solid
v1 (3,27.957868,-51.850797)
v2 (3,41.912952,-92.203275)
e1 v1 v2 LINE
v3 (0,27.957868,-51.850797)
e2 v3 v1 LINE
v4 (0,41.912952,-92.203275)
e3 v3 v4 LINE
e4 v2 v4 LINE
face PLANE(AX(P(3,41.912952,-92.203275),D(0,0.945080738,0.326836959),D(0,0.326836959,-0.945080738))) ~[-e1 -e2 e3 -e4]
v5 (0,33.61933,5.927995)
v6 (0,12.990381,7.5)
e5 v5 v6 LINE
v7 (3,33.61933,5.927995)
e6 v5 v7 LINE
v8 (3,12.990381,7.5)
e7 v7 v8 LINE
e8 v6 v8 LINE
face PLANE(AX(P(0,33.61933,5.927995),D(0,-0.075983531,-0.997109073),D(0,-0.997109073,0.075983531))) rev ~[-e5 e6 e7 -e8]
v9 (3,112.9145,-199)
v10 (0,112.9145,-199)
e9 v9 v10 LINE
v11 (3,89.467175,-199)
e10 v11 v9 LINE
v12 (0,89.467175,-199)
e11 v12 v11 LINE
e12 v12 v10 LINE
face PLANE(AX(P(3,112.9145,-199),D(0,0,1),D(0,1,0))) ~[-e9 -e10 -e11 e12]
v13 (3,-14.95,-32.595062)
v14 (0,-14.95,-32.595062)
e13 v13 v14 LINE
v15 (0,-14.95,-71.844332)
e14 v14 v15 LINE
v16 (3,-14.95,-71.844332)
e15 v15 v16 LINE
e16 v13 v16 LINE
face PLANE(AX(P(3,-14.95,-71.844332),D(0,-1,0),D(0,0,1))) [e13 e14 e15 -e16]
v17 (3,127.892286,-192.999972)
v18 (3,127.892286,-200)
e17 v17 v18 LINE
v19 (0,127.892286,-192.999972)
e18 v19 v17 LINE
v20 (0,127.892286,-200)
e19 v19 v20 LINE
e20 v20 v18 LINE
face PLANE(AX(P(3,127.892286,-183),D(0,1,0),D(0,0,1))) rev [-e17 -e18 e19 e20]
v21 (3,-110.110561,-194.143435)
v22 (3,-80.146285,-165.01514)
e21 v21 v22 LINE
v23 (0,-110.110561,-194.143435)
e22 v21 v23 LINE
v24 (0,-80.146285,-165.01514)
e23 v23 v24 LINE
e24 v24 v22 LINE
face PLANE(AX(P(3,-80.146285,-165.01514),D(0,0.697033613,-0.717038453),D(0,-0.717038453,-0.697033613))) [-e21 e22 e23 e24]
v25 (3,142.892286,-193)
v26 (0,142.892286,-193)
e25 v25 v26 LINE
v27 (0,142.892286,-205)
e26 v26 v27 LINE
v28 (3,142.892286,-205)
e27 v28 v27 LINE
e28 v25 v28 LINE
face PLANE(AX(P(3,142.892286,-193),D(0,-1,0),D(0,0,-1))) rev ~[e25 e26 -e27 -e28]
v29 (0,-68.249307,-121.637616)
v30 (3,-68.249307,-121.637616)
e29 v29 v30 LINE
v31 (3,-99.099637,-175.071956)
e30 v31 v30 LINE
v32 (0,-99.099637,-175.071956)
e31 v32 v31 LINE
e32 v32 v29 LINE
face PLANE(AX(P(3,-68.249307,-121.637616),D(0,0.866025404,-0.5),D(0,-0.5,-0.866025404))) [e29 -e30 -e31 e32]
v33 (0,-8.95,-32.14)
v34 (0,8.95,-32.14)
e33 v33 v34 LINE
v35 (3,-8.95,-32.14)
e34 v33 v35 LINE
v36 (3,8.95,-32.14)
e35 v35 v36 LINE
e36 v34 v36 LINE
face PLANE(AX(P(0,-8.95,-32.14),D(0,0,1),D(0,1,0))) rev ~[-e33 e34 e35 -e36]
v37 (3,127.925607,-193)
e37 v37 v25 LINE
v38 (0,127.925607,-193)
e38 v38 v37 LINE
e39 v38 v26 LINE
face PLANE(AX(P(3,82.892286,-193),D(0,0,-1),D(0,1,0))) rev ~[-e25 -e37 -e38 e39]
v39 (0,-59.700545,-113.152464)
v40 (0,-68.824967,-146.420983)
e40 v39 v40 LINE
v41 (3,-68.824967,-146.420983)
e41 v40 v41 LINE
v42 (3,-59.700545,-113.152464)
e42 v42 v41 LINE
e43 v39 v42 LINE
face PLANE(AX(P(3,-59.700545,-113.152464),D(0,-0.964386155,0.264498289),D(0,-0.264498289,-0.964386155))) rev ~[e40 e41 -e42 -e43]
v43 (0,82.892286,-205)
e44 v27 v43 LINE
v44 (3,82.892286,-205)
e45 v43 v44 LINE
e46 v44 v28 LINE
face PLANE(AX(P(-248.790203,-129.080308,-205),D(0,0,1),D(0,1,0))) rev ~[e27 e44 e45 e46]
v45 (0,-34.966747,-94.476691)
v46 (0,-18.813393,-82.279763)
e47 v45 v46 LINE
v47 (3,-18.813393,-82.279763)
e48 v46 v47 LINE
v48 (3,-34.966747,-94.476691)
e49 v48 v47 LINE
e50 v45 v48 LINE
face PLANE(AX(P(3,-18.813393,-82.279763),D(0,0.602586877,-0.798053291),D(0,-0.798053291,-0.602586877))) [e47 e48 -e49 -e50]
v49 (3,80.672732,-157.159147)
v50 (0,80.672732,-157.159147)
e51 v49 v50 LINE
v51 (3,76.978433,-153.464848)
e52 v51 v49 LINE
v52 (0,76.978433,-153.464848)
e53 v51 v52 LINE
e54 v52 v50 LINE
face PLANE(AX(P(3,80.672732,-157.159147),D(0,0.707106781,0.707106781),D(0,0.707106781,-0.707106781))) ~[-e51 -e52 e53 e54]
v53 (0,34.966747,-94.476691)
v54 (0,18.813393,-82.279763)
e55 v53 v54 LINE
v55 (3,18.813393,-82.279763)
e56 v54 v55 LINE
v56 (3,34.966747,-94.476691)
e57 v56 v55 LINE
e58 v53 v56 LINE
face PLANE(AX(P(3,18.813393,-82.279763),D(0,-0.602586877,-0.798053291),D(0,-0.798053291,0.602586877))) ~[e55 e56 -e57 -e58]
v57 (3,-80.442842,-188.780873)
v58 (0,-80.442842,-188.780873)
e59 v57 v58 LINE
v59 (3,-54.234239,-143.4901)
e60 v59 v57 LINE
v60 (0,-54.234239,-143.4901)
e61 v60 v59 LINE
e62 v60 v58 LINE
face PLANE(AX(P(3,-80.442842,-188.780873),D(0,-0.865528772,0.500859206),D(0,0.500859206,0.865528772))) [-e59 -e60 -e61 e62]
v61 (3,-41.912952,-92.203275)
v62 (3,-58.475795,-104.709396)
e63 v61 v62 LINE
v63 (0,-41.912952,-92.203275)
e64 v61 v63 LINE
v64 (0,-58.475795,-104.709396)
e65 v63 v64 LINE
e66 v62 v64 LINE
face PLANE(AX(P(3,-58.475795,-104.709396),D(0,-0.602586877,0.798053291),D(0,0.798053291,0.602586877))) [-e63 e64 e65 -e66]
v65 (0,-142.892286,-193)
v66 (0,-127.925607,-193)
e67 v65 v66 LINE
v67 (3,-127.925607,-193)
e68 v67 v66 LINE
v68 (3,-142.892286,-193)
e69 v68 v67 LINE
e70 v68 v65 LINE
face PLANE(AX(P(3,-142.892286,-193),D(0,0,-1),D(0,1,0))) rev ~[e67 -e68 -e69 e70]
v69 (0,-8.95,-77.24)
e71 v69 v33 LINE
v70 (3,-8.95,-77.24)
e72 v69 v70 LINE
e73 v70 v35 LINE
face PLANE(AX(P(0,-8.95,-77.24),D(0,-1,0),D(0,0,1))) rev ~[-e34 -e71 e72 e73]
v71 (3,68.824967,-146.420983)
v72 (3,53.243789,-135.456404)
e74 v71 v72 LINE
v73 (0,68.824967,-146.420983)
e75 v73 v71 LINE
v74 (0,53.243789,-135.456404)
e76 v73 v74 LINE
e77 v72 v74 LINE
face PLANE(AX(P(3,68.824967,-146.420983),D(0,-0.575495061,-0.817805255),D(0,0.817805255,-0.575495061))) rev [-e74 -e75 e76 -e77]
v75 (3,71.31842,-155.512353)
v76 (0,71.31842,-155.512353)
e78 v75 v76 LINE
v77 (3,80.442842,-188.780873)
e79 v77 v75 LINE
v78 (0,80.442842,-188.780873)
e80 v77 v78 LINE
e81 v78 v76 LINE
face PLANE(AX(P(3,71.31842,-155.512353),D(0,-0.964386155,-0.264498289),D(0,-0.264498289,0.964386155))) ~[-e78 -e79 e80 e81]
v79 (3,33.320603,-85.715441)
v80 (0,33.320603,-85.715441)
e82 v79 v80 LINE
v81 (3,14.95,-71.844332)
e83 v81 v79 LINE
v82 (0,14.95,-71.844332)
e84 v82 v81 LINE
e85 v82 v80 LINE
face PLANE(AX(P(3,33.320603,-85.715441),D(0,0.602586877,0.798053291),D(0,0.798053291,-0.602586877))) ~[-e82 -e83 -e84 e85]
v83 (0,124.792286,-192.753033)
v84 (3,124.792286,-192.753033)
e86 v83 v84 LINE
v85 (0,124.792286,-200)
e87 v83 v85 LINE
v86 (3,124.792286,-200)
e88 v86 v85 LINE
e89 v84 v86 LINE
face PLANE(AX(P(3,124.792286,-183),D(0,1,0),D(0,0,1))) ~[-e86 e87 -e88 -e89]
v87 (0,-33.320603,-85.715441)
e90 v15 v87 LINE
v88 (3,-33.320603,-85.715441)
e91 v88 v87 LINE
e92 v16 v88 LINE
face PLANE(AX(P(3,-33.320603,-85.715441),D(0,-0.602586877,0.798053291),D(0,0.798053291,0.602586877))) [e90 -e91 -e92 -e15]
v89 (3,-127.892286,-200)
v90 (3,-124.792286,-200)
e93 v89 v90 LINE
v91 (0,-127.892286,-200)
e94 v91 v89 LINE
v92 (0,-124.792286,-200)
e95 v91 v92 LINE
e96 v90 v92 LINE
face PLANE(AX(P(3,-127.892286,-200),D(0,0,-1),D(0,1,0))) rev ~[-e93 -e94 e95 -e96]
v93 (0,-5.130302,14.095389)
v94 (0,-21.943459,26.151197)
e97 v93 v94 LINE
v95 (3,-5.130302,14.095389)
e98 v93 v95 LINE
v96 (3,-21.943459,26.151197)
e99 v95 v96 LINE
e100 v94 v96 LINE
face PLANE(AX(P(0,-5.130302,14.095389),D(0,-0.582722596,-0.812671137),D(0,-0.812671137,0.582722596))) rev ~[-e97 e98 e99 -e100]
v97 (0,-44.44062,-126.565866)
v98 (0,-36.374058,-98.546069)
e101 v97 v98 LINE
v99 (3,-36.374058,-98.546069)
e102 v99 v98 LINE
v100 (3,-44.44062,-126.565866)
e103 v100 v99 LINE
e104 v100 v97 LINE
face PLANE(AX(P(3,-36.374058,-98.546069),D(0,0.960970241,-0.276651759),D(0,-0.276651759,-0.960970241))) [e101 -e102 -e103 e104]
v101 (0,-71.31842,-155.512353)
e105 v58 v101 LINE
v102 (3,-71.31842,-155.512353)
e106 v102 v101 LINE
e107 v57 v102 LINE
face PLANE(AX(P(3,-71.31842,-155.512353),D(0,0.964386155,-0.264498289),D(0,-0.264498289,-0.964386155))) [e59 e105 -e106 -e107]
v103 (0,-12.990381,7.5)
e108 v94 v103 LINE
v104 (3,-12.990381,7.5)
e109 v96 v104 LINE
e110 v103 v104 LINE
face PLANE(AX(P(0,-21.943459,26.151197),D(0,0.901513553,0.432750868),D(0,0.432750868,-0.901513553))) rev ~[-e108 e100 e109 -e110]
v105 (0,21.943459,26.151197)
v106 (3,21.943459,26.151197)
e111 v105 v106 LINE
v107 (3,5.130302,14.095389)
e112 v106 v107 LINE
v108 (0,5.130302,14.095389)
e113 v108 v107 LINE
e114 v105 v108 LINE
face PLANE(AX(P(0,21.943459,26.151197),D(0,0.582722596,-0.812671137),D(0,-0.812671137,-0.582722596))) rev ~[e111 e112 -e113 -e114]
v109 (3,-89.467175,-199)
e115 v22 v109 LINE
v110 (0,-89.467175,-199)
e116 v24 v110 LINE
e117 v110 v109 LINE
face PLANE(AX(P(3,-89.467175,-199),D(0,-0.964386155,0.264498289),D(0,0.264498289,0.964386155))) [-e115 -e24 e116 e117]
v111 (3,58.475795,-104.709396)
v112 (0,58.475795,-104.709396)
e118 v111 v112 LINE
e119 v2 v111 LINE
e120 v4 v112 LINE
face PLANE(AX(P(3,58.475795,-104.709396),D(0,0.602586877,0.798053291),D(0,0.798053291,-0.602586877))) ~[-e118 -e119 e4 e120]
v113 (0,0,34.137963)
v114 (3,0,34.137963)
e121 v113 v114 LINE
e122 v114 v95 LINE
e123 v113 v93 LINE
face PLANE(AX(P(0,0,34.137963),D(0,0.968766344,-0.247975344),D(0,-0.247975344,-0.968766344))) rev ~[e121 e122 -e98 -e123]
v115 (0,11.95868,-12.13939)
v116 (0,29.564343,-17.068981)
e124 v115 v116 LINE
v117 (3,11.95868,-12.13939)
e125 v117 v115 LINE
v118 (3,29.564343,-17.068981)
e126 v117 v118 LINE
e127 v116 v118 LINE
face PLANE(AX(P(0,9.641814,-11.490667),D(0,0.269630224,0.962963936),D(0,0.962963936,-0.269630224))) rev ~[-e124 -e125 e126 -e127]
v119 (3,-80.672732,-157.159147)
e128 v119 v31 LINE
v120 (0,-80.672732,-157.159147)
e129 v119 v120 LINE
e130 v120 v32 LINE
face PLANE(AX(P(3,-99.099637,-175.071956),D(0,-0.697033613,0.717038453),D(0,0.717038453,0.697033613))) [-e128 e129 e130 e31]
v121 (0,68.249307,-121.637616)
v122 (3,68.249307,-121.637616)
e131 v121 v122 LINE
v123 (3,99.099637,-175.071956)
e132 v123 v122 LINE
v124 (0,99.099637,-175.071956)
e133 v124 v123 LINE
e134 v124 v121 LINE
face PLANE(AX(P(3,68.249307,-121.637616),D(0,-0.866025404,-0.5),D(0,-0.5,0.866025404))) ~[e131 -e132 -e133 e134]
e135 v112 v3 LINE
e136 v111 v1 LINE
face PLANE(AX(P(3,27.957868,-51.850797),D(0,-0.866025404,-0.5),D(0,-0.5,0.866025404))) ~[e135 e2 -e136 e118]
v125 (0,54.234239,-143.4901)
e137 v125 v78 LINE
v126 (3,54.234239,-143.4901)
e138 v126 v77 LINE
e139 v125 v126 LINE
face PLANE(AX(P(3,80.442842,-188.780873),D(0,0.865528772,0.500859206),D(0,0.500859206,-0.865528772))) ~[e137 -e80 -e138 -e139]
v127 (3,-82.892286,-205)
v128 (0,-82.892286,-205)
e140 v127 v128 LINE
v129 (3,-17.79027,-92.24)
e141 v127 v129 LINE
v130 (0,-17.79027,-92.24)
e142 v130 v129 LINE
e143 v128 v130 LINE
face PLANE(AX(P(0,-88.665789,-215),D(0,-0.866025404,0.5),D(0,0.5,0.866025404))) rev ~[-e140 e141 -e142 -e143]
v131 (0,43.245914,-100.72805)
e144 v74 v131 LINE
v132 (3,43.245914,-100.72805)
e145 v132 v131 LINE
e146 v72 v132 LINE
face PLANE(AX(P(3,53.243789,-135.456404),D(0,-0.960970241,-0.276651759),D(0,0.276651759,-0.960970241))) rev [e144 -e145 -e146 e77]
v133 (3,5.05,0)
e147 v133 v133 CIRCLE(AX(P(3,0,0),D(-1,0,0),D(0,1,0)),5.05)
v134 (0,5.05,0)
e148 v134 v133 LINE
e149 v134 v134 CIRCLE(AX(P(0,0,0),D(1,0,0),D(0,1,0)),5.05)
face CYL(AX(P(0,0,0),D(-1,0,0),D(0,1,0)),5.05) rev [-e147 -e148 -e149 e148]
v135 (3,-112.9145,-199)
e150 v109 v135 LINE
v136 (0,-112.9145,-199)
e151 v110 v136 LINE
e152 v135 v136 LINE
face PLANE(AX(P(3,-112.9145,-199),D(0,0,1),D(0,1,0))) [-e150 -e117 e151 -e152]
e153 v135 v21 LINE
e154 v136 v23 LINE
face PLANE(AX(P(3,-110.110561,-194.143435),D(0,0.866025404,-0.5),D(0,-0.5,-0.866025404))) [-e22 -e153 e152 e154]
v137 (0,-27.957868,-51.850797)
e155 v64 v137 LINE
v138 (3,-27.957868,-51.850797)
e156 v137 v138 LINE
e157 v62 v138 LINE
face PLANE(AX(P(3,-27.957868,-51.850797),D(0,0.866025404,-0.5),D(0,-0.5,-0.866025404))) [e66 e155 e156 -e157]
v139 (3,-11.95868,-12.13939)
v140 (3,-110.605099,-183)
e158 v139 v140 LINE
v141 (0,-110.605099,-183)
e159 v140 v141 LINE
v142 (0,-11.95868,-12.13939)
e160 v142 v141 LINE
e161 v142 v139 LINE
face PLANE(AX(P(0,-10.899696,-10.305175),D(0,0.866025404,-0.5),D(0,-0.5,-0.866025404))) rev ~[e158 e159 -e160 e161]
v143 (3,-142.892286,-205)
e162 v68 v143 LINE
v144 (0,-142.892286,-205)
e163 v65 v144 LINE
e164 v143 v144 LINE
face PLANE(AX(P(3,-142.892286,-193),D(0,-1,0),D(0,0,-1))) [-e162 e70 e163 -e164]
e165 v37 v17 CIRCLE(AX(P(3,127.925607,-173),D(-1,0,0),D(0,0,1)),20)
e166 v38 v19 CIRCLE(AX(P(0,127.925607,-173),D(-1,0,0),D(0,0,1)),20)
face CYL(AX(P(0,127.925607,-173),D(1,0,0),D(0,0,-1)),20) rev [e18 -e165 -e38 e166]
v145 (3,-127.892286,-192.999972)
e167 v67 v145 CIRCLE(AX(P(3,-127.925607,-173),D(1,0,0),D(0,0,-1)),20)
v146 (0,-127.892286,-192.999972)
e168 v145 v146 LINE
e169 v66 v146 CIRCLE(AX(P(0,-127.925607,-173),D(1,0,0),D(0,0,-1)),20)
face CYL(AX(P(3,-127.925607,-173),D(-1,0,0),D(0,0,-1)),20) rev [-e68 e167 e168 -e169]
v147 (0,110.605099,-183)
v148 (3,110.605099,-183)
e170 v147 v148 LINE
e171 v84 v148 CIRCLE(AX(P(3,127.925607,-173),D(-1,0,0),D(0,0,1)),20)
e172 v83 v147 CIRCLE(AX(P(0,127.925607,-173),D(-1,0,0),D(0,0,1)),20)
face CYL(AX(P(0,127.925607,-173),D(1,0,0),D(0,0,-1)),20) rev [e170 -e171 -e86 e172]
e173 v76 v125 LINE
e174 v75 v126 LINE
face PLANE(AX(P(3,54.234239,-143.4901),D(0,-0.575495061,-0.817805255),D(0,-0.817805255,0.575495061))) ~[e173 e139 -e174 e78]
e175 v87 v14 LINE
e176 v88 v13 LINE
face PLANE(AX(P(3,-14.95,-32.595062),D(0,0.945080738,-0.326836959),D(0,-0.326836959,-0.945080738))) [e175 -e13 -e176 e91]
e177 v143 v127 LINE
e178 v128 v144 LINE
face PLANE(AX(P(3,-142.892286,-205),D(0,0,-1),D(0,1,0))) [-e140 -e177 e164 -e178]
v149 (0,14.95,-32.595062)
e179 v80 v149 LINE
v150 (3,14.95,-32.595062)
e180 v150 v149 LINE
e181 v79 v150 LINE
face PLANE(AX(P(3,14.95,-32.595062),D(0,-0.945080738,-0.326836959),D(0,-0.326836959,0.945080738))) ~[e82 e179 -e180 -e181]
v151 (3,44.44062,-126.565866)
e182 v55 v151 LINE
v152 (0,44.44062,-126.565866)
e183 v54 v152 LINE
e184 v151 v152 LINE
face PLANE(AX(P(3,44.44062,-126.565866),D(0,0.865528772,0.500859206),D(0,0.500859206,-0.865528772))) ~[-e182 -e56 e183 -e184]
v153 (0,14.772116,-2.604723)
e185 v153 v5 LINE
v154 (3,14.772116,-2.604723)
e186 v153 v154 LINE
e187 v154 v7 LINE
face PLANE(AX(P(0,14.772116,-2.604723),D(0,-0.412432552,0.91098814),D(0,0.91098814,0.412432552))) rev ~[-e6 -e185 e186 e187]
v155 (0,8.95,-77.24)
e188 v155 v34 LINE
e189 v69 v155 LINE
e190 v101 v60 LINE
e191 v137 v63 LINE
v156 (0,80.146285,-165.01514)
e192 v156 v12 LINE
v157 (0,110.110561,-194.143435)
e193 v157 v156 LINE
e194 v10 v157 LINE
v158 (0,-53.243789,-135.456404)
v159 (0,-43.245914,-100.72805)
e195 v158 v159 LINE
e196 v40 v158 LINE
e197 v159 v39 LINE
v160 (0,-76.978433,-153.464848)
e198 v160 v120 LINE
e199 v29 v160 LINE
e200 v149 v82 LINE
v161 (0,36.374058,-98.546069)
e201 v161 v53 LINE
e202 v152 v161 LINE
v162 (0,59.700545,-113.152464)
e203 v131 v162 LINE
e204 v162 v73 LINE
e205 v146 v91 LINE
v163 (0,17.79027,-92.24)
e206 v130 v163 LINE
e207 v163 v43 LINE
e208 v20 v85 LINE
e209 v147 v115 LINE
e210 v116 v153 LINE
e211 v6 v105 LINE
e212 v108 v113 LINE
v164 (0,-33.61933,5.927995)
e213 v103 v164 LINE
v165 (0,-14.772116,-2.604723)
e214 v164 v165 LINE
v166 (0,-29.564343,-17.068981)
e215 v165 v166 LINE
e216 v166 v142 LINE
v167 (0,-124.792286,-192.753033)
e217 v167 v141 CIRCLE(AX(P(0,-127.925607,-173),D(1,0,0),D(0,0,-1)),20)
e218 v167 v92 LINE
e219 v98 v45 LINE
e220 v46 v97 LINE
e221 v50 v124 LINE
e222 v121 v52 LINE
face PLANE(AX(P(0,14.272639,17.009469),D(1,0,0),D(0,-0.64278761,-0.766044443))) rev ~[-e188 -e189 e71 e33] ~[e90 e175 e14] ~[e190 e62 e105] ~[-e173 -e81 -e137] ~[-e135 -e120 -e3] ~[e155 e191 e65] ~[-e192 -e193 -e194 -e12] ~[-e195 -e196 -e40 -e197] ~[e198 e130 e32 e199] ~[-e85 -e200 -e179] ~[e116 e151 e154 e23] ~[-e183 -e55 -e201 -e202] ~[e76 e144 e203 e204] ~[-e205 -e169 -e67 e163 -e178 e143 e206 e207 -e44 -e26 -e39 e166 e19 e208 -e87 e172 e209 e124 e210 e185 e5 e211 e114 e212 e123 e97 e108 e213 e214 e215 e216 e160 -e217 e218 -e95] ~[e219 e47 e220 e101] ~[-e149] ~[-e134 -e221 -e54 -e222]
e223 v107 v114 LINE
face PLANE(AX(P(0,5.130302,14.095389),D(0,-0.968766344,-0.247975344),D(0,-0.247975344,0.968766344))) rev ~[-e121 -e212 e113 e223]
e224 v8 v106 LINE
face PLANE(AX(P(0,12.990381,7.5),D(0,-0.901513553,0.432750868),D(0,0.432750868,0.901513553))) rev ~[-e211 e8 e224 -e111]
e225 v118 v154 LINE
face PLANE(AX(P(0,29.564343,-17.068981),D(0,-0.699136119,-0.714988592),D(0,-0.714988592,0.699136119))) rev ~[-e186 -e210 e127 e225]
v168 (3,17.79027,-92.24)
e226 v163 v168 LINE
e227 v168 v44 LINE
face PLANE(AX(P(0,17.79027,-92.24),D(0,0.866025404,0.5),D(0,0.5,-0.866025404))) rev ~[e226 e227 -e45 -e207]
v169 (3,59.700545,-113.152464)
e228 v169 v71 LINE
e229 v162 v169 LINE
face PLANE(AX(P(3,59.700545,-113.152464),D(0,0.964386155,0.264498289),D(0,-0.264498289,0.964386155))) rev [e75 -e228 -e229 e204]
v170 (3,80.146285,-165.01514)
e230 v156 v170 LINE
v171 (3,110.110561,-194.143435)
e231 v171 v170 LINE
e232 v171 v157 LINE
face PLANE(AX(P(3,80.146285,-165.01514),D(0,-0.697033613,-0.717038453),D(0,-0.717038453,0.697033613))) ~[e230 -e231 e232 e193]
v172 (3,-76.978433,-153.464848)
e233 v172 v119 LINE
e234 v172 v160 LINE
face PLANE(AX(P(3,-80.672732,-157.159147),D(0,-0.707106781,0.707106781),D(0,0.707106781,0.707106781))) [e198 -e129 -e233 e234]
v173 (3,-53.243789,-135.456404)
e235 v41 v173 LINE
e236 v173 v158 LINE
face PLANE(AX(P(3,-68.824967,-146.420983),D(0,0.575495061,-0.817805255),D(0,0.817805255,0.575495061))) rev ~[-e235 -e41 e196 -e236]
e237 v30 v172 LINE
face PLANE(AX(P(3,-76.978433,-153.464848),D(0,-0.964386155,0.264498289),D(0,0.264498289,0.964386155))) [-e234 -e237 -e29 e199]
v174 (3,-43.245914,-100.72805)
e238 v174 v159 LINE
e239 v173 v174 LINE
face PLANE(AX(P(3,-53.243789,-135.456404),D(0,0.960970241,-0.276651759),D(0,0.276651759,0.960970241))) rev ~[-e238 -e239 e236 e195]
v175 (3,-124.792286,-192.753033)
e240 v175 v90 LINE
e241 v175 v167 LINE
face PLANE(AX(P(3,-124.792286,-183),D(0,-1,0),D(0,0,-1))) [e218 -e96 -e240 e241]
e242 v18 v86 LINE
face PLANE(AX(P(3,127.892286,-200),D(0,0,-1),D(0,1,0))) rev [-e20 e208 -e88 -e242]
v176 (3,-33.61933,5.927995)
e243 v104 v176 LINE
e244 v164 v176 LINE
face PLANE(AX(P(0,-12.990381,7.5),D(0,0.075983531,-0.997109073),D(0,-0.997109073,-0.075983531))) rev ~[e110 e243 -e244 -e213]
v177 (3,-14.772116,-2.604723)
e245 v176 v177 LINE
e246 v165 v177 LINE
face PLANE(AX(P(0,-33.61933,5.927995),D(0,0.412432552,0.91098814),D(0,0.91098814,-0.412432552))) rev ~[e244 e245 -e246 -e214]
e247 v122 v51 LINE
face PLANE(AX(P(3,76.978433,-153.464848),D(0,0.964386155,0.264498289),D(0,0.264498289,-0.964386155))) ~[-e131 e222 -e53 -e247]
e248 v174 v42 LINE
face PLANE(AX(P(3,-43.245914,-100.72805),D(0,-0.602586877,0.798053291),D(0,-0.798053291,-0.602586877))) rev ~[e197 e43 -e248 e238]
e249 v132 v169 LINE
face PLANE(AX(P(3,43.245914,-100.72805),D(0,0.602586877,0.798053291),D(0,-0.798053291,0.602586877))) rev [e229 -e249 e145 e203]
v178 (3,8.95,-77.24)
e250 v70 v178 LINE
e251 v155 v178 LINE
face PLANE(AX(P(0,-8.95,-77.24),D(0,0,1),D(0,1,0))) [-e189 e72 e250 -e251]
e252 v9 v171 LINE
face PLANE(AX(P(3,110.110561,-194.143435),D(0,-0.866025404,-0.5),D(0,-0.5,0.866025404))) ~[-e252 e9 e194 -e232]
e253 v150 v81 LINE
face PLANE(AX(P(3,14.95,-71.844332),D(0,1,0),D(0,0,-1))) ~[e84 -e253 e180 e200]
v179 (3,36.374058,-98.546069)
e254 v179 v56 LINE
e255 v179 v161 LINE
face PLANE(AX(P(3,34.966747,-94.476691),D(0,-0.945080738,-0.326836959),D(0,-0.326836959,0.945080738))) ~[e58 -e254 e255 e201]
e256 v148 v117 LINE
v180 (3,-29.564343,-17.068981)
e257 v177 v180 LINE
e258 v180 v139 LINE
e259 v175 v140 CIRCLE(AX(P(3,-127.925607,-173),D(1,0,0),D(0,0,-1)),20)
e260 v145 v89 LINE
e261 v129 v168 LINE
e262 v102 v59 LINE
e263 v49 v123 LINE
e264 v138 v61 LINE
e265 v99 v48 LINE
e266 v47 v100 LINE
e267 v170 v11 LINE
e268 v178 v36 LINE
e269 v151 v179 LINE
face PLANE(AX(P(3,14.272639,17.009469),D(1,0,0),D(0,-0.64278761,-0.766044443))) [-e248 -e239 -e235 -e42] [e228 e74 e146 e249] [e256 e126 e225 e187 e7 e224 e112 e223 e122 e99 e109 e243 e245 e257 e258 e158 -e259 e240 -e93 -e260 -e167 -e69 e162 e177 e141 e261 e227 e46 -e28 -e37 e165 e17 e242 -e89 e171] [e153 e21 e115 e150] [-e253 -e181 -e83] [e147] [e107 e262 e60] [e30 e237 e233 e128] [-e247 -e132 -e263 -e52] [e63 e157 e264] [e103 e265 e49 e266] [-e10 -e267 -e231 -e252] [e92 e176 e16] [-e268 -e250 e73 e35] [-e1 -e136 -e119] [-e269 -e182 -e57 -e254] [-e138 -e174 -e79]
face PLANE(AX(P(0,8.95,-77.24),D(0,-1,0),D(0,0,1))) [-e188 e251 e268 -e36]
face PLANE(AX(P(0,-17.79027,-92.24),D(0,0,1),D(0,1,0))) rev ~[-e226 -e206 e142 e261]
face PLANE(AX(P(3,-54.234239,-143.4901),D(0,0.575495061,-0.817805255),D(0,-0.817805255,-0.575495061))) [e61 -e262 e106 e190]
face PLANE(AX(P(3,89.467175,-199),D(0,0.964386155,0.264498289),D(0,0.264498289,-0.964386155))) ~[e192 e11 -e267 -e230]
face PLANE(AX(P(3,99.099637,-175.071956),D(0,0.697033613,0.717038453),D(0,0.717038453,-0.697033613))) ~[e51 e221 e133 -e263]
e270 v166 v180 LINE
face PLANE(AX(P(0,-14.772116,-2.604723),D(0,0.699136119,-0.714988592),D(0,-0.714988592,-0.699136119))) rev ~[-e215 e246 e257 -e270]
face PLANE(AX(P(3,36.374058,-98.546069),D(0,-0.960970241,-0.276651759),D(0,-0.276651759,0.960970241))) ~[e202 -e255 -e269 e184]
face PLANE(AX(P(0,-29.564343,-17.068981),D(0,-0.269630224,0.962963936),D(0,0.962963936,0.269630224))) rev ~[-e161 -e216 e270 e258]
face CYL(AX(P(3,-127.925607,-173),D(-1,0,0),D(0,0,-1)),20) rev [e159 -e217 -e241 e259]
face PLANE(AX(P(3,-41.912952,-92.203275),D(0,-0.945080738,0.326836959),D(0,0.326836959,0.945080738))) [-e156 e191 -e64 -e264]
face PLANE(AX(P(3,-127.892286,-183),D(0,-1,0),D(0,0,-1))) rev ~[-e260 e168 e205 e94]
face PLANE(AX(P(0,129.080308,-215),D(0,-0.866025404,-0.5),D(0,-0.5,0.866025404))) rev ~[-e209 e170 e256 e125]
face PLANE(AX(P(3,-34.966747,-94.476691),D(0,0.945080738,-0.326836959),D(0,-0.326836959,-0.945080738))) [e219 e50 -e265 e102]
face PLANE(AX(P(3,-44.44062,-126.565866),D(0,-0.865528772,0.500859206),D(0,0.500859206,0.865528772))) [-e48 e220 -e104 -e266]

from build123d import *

# Parameters (mm, degrees)
SKETCH1_R                      = 4.95
SKETCH1_W                      = 17.9
SKETCH1_H                      = 45.1
BOSS_EXTRUDE1_DEPTH            = 3
CUT_EXTRUDE1_DEPTH             = 251.790202921
CUT_EXTRUDE1_DEPTH_BACK        = 251.790202921
SKETCH2_W                      = 258.160615752
SKETCH2_H                      = 10
SKETCH3_W                      = 12
SKETCH3_H                      = 60
BOSS_EXTRUDE2_DEPTH            = 3
FILLET1_R                      = 20
BOSS_EXTRUDE3_START            = -3
BOSS_EXTRUDE3_DEPTH            = 3
CIRPATTERN1_COUNT              = 9
SKETCH5_W                      = 17
SKETCH5_H                      = 3.1
CUT_EXTRUDE2_DEPTH             = 250.90439271
CUT_EXTRUDE3_DEPTH             = 250.90439271
MAIN_SHAFT_CLEARANCE_PROFILE_R = 5.05
SHAFT_CLEARANCE_10P1_DEPTH     = 250.90439271


with BuildPart() as part:
    # Sketch1 → Boss-Extrude1 (new body)
    with BuildSketch(Plane.YZ):
        with BuildLine():
            Line((-10.899695646, -10.305175148), (-129.080307876, -215))
            Line((-129.080307876, -215), (-88.665789032, -215))
            Line((-88.665789032, -215), (-17.790269987, -92.24))
            Line((-17.790269987, -92.24), (17.790269987, -92.24))
            Line((17.790269987, -92.24), (88.665789032, -215))
            Line((88.665789032, -215), (129.080307876, -215))
            Line((129.080307876, -215), (10.899695646, -10.305175148))
            ThreePointArc((10.899695646, -10.305175148), (0, 15), (-10.899695646, -10.305175148))
        make_face()
        Circle(SKETCH1_R, mode=Mode.SUBTRACT)
        with Locations((0, -54.69)):
            Rectangle(SKETCH1_W, SKETCH1_H, mode=Mode.SUBTRACT)
    extrude(amount=BOSS_EXTRUDE1_DEPTH)

    # Sketch2 → Cut-Extrude1 (cut, two sides: drawn at the far end of the back side and taken through both)
    with BuildSketch(Plane.YZ.offset(3).offset(-CUT_EXTRUDE1_DEPTH_BACK)):
        with Locations((0, -210)):
            Rectangle(SKETCH2_W, SKETCH2_H)
    extrude(amount=CUT_EXTRUDE1_DEPTH + CUT_EXTRUDE1_DEPTH_BACK, mode=Mode.SUBTRACT)

    # Sketch3 → Boss-Extrude2 (add)
    with BuildSketch(Plane(origin=(3, 0, 0), x_dir=(0, 0, -1), z_dir=(1, 0, 0))):
        with Locations((199, -112.892286341)):
            Rectangle(SKETCH3_W, SKETCH3_H)
        with Locations((199, 112.892286341)):
            Rectangle(SKETCH3_W, SKETCH3_H)
    extrude(amount=-BOSS_EXTRUDE2_DEPTH)

    # Fillet1
    fillet1_edges = [part.edges().sort_by_distance(p)[0] for p in [
        (1.5, 116.378601954, -193),
        (1.5, -116.378601954, -193),
    ]]
    fillet(fillet1_edges, radius=FILLET1_R)

    # Sketch4 → Boss-Extrude3 (add)
    with BuildSketch(Plane(origin=(3, 0, 0), x_dir=(0, 0, -1), z_dir=(1, 0, 0)).offset(BOSS_EXTRUDE3_START)):
        with BuildLine():
            Line((-34.137962787, 0), (-14.095389312, -5.13030215))
            ThreePointArc((-14.095389312, -5.13030215), (-15, 0), (-14.095389312, 5.13030215))
            Line((-14.095389312, 5.13030215), (-34.137962787, 0))
        make_face()
    boss_extrude3 = extrude(amount=BOSS_EXTRUDE3_DEPTH)

    # CirPattern1: Boss-Extrude3 ×9 about axis
    cirpattern1_axis = Axis((-0.1501615, 0, 0), (1, 0, 0))
    for i in range(1, CIRPATTERN1_COUNT):
        add(boss_extrude3.rotate(cirpattern1_axis, i * 360 / CIRPATTERN1_COUNT))

    # Sketch5 → Cut-Extrude2 (cut, symmetric)
    with BuildSketch(Plane(origin=(3, 0, 0), x_dir=(0, 0, -1), z_dir=(1, 0, 0))):
        with Locations((191.5, -126.342286341)):
            Rectangle(SKETCH5_W, SKETCH5_H)
    cut_extrude2 = extrude(amount=CUT_EXTRUDE2_DEPTH, both=True, mode=Mode.SUBTRACT)

    # Mirror1: Cut-Extrude2 across plane
    add(cut_extrude2.mirror(Plane.ZX), mode=Mode.SUBTRACT)

    # Sketch6 → Cut-Extrude3 (cut, symmetric)
    with BuildSketch(Plane.YZ.offset(3)):
        Polygon((-44.440620352, -126.565865893), (-18.81339339, -82.279763058), (-34.966746745, -94.476691336), (-36.374058239, -98.54606889), align=None)
        Polygon((-33.320603167, -85.715441185), (-14.95, -71.844331927), (-14.95, -32.59506202), align=None)
        Polygon((-80.442842118, -188.780872527), (-54.234238638, -143.490099921), (-71.318419935, -155.512353255), align=None)
        Polygon((-41.912952433, -92.203274728), (-27.957868434, -51.850797102), (-58.475794969, -104.709396402), align=None)
        Polygon((-112.914500338, -199), (-89.467175046, -199), (-80.146284863, -165.015139537), (-110.110561046, -194.143434684), align=None)
        Polygon((-76.978433226, -153.464848336), (-68.249306861, -121.637615567), (-99.099637478, -175.071955626), (-80.672732205, -157.159147315), align=None)
        Polygon((-43.245914121, -100.728050325), (-59.700544534, -113.152464165), (-68.824966717, -146.420983438), (-53.243788825, -135.456403713), align=None)
    cut_extrude3 = extrude(amount=CUT_EXTRUDE3_DEPTH, both=True, mode=Mode.SUBTRACT)

    # Mirror2: Cut-Extrude3 across plane
    add(cut_extrude3.mirror(Plane.ZX), mode=Mode.SUBTRACT)

    # Main_shaft_clearance_profile → Shaft_clearance_10p1 (cut, through all)
    with BuildSketch(Plane.YZ):
        Circle(MAIN_SHAFT_CLEARANCE_PROFILE_R)
    extrude(amount=SHAFT_CLEARANCE_10P1_DEPTH, mode=Mode.SUBTRACT)


solid = part.part
